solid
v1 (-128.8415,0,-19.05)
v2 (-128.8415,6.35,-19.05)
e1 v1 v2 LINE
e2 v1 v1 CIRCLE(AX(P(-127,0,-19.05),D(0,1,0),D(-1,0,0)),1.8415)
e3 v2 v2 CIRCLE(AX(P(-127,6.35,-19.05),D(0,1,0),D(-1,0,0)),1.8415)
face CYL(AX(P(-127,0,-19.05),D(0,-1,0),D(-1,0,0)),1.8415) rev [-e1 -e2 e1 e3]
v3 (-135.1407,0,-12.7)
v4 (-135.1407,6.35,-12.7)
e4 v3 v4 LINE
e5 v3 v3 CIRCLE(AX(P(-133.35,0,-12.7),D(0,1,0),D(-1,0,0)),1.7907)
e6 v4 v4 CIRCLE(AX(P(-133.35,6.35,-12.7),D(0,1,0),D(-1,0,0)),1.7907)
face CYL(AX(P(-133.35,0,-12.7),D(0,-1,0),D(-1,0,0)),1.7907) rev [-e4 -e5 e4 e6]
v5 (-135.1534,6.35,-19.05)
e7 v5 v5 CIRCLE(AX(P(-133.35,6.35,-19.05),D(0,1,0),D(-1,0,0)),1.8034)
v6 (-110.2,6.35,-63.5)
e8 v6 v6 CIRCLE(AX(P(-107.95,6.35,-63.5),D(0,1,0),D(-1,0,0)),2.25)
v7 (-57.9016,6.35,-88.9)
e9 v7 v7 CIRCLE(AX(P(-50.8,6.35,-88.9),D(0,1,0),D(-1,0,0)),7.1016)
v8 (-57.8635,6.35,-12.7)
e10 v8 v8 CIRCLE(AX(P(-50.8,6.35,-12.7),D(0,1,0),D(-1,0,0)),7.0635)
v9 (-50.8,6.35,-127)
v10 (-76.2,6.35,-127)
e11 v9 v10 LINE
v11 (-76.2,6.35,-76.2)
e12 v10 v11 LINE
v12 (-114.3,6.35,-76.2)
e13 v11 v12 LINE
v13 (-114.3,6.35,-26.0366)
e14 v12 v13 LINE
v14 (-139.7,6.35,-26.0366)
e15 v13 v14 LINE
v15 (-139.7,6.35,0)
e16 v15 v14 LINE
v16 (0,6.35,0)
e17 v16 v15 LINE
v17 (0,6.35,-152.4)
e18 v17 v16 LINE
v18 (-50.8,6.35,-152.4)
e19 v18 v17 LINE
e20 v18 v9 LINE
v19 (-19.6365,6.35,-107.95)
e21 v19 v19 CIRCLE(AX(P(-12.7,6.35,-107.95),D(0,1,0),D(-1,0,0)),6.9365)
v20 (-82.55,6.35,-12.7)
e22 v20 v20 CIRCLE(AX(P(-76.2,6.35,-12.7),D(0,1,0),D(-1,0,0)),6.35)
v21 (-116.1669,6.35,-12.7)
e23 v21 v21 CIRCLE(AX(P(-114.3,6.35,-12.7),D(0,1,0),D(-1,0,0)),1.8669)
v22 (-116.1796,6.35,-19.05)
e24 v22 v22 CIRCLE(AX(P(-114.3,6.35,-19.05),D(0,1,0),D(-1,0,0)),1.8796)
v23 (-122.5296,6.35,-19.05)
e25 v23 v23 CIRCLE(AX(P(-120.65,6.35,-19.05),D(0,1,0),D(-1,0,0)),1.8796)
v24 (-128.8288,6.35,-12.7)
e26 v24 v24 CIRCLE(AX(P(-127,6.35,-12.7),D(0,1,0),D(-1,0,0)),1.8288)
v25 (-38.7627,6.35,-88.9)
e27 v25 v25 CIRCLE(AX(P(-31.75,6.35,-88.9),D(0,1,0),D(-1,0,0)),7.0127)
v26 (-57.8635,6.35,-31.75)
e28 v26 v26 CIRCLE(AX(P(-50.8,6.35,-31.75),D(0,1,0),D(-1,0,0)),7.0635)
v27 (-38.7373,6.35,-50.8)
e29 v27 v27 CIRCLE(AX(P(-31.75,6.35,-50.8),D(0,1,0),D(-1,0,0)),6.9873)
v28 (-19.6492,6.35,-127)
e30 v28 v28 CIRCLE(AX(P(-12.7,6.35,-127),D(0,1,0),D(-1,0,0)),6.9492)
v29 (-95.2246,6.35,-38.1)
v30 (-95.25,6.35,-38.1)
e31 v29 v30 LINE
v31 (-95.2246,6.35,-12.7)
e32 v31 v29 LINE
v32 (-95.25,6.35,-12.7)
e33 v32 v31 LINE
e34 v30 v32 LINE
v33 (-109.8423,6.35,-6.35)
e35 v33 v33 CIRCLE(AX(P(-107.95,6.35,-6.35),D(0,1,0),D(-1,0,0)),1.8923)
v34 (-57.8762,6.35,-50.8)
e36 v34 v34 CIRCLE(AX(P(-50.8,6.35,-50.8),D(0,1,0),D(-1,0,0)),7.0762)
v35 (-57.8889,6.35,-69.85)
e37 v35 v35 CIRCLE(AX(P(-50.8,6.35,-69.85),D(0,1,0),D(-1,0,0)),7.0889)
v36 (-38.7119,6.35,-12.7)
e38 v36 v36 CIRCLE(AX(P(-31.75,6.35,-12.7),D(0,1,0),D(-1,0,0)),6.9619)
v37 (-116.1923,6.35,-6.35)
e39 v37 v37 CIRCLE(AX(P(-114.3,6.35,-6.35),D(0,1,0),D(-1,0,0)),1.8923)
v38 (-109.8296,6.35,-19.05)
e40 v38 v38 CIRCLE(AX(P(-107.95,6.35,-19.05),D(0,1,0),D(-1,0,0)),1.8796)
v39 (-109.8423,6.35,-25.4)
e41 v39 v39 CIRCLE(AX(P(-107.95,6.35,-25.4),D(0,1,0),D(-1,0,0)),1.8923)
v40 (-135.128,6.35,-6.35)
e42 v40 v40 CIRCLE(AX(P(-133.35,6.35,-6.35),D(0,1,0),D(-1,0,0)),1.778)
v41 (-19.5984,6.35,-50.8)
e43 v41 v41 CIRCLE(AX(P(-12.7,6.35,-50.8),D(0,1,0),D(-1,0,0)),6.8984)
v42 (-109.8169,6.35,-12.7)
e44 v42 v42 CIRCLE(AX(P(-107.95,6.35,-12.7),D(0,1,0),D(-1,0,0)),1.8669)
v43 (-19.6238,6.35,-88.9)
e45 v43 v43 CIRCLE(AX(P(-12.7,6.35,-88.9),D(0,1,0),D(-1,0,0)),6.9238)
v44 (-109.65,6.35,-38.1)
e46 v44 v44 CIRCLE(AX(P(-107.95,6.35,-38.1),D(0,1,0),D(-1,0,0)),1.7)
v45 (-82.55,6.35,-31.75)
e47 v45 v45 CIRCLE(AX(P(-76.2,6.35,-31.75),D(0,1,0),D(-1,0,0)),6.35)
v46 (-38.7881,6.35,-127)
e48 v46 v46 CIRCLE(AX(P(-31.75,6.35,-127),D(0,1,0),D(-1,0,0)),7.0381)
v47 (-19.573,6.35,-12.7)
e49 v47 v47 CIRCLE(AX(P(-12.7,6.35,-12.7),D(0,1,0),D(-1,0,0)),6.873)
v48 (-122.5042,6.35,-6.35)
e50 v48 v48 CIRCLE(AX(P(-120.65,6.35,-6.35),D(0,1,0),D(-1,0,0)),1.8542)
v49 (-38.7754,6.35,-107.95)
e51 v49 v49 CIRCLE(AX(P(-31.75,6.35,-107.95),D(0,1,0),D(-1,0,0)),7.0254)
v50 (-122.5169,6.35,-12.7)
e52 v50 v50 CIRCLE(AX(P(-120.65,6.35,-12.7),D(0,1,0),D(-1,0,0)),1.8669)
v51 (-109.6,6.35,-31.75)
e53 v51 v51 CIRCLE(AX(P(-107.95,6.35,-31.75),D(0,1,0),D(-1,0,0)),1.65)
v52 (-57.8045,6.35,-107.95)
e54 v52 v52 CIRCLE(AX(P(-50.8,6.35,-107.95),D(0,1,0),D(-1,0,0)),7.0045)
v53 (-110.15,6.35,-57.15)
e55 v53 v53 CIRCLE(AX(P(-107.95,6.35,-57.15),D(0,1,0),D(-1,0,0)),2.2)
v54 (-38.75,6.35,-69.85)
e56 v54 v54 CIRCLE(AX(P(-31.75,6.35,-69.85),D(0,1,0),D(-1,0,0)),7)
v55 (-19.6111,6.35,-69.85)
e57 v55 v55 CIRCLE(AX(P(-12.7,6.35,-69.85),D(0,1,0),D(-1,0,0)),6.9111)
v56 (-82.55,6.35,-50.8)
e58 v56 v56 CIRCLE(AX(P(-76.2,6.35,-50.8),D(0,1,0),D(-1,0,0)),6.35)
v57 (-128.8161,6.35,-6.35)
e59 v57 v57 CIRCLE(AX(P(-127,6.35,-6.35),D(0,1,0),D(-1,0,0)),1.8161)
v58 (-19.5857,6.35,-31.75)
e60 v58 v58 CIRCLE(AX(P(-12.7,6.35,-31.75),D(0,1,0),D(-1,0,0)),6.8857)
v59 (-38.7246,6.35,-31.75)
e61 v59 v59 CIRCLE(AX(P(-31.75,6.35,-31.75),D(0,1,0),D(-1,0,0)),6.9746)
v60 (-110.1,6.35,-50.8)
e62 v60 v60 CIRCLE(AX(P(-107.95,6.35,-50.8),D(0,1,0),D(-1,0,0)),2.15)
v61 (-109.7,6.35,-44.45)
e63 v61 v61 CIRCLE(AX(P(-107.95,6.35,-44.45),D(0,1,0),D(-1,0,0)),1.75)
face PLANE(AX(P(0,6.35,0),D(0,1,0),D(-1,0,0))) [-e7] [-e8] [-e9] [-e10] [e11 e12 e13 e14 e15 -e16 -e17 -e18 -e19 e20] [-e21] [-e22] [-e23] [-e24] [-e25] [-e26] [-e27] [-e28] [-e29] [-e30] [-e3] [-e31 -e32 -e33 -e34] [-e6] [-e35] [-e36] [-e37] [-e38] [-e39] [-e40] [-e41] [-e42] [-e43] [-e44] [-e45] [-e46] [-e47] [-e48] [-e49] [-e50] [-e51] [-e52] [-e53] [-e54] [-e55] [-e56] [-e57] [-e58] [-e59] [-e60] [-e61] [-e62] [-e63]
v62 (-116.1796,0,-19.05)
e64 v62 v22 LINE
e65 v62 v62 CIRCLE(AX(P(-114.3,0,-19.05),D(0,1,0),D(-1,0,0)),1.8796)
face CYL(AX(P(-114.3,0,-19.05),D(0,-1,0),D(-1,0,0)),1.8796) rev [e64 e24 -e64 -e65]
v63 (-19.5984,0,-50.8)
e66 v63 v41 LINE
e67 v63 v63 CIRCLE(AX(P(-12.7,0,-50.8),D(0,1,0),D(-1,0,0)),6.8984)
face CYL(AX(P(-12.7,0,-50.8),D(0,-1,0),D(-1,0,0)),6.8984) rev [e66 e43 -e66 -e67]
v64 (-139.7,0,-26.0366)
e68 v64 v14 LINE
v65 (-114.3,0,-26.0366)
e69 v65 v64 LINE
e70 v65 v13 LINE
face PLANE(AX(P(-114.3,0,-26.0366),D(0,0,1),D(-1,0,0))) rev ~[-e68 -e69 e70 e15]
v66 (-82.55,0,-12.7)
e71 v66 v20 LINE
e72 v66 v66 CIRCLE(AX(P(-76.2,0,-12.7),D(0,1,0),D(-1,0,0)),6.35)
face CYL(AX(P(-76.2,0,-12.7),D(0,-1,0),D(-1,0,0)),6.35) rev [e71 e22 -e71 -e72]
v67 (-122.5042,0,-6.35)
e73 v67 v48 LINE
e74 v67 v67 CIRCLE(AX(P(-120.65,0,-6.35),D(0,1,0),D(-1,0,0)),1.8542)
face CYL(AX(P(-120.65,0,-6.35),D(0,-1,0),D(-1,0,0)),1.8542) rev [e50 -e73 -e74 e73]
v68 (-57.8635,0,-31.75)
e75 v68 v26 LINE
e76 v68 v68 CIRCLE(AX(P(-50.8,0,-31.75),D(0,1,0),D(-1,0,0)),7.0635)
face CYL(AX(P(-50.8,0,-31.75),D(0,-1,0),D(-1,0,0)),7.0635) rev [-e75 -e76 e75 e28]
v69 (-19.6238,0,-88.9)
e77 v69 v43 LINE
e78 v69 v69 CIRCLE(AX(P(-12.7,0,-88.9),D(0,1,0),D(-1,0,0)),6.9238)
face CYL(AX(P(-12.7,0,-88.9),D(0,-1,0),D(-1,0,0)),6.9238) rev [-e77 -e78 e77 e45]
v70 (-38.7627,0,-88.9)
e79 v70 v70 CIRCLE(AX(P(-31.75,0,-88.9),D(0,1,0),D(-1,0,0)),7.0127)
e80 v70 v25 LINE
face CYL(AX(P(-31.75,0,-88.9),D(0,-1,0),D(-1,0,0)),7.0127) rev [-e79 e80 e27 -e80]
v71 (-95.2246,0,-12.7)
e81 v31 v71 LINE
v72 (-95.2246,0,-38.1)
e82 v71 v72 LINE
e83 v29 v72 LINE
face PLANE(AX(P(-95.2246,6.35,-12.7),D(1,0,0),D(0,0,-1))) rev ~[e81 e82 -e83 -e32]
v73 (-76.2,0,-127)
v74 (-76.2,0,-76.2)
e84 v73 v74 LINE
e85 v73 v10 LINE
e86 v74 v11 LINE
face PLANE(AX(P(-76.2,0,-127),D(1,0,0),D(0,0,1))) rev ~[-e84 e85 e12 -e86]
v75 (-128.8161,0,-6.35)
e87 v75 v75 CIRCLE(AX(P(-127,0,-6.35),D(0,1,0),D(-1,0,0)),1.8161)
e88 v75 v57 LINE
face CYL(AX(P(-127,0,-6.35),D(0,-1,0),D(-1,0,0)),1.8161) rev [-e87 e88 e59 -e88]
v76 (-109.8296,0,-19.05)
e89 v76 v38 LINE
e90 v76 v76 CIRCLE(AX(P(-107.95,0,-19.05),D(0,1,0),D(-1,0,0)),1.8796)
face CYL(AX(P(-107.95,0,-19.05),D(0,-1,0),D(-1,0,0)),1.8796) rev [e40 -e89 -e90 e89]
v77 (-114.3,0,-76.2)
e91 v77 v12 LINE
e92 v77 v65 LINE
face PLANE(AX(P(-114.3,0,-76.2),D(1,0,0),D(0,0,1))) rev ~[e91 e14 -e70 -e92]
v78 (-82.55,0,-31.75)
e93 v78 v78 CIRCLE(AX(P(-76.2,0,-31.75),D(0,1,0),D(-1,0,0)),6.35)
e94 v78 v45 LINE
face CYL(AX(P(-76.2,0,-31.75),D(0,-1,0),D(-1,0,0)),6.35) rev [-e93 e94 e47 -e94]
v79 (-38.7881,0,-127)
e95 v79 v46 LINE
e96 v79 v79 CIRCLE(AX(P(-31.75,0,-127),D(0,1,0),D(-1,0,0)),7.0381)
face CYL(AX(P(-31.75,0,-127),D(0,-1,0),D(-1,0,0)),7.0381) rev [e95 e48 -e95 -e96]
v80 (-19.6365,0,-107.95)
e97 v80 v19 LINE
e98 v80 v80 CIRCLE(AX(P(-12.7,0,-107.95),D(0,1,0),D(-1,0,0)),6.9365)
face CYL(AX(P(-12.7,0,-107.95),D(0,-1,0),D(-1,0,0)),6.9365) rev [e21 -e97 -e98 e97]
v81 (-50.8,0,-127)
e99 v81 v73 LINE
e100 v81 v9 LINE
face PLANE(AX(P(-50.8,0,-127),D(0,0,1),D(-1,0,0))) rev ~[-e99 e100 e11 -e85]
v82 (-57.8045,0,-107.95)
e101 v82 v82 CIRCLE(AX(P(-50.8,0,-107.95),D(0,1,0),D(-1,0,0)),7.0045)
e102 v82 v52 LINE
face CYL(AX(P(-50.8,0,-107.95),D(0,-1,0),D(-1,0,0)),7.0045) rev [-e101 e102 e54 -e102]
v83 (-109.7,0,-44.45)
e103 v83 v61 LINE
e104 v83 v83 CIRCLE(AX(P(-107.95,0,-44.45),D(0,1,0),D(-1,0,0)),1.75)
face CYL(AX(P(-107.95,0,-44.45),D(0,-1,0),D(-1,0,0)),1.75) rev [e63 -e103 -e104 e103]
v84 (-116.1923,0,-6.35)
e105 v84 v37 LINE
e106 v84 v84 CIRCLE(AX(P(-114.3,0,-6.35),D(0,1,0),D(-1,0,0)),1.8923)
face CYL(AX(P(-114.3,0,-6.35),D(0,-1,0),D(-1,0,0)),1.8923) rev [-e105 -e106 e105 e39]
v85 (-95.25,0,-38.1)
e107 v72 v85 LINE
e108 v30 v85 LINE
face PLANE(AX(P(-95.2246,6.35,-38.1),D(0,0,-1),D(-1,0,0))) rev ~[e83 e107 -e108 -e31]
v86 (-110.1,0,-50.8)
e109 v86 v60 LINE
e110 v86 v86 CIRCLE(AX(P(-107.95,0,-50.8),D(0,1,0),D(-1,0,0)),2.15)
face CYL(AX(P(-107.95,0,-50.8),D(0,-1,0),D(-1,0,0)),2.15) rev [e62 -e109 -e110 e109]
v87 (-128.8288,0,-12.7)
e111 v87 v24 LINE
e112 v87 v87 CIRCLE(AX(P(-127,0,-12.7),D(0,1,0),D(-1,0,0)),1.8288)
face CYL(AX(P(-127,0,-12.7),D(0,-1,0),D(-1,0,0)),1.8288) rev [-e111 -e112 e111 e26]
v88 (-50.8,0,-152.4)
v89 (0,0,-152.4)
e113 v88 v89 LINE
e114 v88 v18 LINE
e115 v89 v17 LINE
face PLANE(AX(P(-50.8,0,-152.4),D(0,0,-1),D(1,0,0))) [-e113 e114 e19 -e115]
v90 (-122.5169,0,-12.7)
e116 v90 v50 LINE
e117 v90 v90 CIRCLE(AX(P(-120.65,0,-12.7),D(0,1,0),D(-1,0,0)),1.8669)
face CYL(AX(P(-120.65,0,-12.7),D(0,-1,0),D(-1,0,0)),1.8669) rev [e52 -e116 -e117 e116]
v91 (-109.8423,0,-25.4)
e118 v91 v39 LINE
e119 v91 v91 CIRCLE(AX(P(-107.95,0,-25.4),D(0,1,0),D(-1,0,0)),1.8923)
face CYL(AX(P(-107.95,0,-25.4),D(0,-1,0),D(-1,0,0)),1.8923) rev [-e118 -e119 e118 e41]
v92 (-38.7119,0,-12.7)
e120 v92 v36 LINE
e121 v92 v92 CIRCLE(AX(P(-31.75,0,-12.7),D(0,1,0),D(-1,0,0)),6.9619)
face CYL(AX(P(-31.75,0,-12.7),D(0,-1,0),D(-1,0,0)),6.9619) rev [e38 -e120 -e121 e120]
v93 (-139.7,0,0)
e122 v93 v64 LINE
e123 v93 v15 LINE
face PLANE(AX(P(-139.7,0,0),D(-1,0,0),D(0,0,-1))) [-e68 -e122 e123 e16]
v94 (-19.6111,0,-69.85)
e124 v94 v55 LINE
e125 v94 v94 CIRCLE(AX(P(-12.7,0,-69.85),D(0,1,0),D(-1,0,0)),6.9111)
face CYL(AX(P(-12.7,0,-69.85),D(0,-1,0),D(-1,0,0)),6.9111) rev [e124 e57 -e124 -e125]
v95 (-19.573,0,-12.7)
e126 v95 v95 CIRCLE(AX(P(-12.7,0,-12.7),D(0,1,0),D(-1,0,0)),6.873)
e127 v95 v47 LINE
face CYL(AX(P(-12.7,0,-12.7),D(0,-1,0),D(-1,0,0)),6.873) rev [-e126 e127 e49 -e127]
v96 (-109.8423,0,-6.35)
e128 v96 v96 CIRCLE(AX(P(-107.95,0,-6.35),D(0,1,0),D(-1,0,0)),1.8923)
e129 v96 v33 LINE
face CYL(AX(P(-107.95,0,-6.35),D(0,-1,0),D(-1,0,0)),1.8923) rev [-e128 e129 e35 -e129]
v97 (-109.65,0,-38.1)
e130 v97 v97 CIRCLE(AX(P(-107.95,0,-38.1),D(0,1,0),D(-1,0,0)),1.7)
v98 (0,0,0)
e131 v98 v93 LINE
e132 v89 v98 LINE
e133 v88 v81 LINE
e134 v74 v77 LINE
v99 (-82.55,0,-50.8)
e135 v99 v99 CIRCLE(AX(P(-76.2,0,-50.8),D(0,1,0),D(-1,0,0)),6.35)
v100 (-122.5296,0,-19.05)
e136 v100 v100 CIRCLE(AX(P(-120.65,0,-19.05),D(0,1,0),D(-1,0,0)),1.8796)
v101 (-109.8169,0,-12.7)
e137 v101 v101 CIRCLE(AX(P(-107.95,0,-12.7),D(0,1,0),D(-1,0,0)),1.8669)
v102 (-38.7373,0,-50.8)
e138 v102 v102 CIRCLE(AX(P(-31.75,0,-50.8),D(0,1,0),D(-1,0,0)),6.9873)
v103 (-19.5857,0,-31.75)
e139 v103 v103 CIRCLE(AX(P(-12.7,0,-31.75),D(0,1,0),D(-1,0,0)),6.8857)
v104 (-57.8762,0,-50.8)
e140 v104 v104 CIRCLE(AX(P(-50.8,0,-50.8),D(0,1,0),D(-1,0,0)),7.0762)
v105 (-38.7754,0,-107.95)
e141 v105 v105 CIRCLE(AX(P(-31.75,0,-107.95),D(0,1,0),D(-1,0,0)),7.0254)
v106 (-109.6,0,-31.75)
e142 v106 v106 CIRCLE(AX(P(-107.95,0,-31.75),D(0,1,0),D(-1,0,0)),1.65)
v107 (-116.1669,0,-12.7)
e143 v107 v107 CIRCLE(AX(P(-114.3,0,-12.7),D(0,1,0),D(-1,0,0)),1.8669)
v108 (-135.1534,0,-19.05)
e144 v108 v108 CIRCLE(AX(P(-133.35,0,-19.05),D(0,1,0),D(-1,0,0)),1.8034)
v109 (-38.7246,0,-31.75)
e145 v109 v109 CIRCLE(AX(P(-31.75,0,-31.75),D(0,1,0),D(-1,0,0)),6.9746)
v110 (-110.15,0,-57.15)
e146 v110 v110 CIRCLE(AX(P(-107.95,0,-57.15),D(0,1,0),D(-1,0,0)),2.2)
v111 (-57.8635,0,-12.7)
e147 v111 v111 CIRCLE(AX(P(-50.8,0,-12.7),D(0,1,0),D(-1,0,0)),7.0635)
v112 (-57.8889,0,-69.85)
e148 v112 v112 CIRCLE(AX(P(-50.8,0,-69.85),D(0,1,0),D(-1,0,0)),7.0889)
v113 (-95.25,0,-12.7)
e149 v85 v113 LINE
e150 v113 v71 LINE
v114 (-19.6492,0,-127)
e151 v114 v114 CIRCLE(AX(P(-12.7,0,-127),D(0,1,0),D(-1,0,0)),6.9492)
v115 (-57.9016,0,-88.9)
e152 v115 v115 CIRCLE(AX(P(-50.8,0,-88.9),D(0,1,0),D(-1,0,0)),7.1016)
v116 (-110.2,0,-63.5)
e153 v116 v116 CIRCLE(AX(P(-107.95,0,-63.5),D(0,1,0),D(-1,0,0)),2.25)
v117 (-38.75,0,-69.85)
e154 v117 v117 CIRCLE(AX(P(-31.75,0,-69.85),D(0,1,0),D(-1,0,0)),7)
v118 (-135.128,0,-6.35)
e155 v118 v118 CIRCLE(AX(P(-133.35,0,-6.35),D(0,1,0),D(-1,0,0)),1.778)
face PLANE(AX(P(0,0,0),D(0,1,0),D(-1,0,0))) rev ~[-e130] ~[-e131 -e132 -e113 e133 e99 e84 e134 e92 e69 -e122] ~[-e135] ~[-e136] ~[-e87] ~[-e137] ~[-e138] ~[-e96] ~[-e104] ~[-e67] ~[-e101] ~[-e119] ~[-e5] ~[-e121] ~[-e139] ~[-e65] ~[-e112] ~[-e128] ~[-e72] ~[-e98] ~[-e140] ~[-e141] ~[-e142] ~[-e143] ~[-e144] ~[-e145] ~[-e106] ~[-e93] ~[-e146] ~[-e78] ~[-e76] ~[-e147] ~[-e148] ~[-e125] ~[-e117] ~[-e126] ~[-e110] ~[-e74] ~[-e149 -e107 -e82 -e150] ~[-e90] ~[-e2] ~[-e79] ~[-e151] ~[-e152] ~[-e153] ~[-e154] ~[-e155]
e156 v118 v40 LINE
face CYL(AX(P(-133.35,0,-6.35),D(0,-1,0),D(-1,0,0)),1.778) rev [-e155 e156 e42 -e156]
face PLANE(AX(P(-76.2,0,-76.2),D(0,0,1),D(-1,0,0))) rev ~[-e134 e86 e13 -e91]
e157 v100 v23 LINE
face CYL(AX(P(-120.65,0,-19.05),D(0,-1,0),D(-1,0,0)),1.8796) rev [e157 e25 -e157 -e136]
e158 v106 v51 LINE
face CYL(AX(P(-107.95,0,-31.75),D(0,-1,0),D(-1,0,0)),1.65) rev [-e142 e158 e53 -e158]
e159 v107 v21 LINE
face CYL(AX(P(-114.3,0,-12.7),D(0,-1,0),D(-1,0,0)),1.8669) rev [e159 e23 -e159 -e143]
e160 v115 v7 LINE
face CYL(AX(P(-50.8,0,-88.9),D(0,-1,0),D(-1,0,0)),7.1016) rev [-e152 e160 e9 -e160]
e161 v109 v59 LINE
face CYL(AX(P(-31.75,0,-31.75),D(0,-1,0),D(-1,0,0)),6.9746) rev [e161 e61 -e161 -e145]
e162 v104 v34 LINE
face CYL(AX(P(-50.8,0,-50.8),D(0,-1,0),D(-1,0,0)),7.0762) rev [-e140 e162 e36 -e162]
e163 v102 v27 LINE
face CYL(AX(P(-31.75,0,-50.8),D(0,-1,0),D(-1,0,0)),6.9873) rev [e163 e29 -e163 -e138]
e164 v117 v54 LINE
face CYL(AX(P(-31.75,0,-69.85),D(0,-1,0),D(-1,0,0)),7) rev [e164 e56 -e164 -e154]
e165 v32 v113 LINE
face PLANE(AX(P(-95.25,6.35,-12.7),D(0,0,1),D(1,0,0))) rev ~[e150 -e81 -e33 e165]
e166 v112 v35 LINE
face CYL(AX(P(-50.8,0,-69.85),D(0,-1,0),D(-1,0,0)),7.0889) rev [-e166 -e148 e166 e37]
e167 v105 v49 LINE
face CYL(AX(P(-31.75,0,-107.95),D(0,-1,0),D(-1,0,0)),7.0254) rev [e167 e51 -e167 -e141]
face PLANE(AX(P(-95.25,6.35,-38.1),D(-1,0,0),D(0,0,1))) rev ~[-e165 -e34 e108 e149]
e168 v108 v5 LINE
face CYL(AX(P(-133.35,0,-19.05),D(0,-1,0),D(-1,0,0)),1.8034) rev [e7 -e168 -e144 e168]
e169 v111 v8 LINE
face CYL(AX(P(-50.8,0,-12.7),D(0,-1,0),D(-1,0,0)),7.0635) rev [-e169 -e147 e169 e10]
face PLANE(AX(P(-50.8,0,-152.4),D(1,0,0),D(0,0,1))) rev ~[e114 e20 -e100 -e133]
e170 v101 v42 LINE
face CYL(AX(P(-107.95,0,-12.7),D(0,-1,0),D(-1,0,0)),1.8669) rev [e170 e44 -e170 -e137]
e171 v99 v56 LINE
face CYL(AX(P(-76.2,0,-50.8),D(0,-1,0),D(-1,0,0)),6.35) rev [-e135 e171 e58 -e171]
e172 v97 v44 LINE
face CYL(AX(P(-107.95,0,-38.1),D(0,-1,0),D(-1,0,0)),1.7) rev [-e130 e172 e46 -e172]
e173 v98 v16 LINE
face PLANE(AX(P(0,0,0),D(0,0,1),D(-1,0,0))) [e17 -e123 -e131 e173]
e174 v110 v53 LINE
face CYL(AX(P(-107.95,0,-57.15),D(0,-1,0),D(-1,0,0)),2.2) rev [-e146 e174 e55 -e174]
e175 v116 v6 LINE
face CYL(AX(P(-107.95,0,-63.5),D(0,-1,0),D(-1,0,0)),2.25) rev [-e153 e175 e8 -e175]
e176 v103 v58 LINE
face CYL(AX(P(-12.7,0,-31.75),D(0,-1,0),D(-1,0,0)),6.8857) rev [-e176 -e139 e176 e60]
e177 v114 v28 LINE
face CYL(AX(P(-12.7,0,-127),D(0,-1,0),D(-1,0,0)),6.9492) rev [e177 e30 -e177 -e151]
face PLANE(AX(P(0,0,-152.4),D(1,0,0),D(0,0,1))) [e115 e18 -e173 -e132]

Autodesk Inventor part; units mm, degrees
ref_plane "YZ Plane" through (0, 0, 0) normal (1, 0, 0) x (0, 1, 0)
ref_plane "XZ Plane" through (0, 0, 0) normal (0, 1, 0) x (-1, 0, 0)
ref_plane "XY Plane" through (0, 0, 0) normal (0, 0, 1) x (1, 0, 0)
sketch "Sketch1" plane through (0, 0, 0) normal (0, 1, 0) x (-1, 0, 0)
  line L0 (0, 0) -> (139.7, 0)
  line L1 (139.7, 0) -> (139.7, -152.4)
  line L2 (139.7, -152.4) -> (0, -152.4)
  line L3 (0, -152.4) -> (0, 0)
  line L4 (139.7, -152.4) -> (127, -152.4)
  line L5 (114.3, -76.2) -> (114.3, -26.0366)
  line L6 (114.3, -26.0366) -> (139.7, -26.0366)
  line L7 (139.7, -26.0366) -> (139.7, -152.4)
  line L8 (127, -152.4) -> (76.2, -152.4)
  line L9 (76.2, -127) -> (76.2, -76.2)
  line L10 (76.2, -76.2) -> (114.3, -76.2)
  line L11 (76.2, -152.4) -> (50.8, -152.4)
  line L12 (50.8, -152.4) -> (50.8, -127)
  line L13 (50.8, -127) -> (76.2, -127)
  circle A0 centre (12.7, -12.7) radius 6.35 construction
  circle A1 centre (12.7, -31.75) radius 6.35 construction
  circle A2 centre (12.7, -50.8) radius 6.35 construction
  circle A3 centre (12.7, -69.85) radius 6.35 construction
  circle A4 centre (12.7, -88.9) radius 6.35 construction
  circle A5 centre (12.7, -107.95) radius 6.35 construction
  circle A6 centre (12.7, -127) radius 6.35 construction
  circle A7 centre (31.75, -12.7) radius 6.35 construction
  circle A8 centre (31.75, -31.75) radius 6.35 construction
  circle A9 centre (31.75, -50.8) radius 6.35 construction
  circle A10 centre (31.75, -69.85) radius 6.35 construction
  circle A11 centre (31.75, -88.9) radius 6.35 construction
  circle A12 centre (31.75, -107.95) radius 6.35 construction
  circle A13 centre (31.75, -127) radius 6.35 construction
  circle A14 centre (12.7, -12.7) radius 6.873
  circle A15 centre (12.7, -31.75) radius 6.8857
  circle A16 centre (12.7, -50.8) radius 6.8984
  circle A17 centre (12.7, -69.85) radius 6.9111
  circle A18 centre (12.7, -88.9) radius 6.9238
  circle A19 centre (12.7, -107.95) radius 6.9365
  circle A20 centre (12.7, -127) radius 6.9492
  circle A21 centre (31.75, -12.7) radius 6.9619
  circle A22 centre (31.75, -31.75) radius 6.9746
  circle A23 centre (31.75, -50.8) radius 6.9873
  circle A24 centre (31.75, -69.85) radius 7
  circle A25 centre (31.75, -88.9) radius 7.0127
  circle A26 centre (31.75, -107.95) radius 7.0254
  circle A27 centre (31.75, -127) radius 7.0381
  circle A28 centre (50.8, -12.7) radius 7.0635
  circle A29 centre (50.8, -31.75) radius 7.0635
  circle A30 centre (50.8, -50.8) radius 7.0762
  circle A31 centre (50.8, -69.85) radius 7.0889
  circle A32 centre (50.8, -88.9) radius 7.1016
  circle A33 centre (50.8, -107.95) radius 7.0045
  circle A34 centre (76.2, -12.7) radius 6.35
  circle A35 centre (76.2, -31.75) radius 6.35
  circle A36 centre (76.2, -50.8) radius 6.35
  line L14 (6.4177, -6.5588) -> (6.4177, -14.6901) construction
  line L15 (8.0052, -4.9713) -> (8.0052, -13.1026) construction
  circle A37 centre (133.35, -6.35) radius 1.778
  circle A38 centre (133.35, -12.7) radius 1.7907
  circle A39 centre (133.35, -19.05) radius 1.8034
  circle A40 centre (127, -6.35) radius 1.8161
  circle A41 centre (127, -12.7) radius 1.8288
  circle A42 centre (127, -19.05) radius 1.8415
  circle A43 centre (120.65, -6.35) radius 1.8542
  circle A44 centre (120.65, -12.7) radius 1.8669
  circle A45 centre (120.65, -19.05) radius 1.8796
  circle A46 centre (114.3, -6.35) radius 1.8923
  circle A47 centre (114.3, -12.7) radius 1.8669
  circle A48 centre (114.3, -19.05) radius 1.8796
  circle A49 centre (107.95, -6.35) radius 1.8923
  circle A50 centre (107.95, -12.7) radius 1.8669
  circle A51 centre (107.95, -19.05) radius 1.8796
  circle A52 centre (107.95, -25.4) radius 1.8923
  circle A53 centre (107.95, -31.75) radius 1.65
  circle A54 centre (107.95, -38.1) radius 1.7
  circle A55 centre (107.95, -44.45) radius 1.75
  circle A56 centre (107.95, -50.8) radius 2.15
  circle A57 centre (107.95, -57.15) radius 2.2
  circle A58 centre (107.95, -63.5) radius 2.25
  dimension "d0" = 139.7
  dimension "d1" = 152.4
  dimension "d3" = 127
  dimension "d5" = 76.2
  dimension "d7" = 25.4
  dimension "d8" = 12.7
  dimension "d9" = 12.7
  dimension "d10" = 12.7
  dimension "d13" = 19.05
  dimension "d16" = 19.05
  dimension "d19" = 13.746
  dimension "d20" = 13.7714
  dimension "d21" = 13.7968
  dimension "d22" = 13.8222
  dimension "d23" = 13.8476
  dimension "d24" = 13.873
  dimension "d25" = 13.8984
  dimension "d26" = 13.9238
  dimension "d27" = 13.9492
  dimension "d28" = 13.9746
  dimension "d29" = 14
  dimension "d30" = 14.0254
  dimension "d31" = 14.0508
  dimension "d32" = 14.0762
  dimension "d33" = 14.127
  dimension "d34" = 14.127
  dimension "d35" = 14.1524
  dimension "d36" = 14.1778
  dimension "d37" = 14.2032
  dimension "d38" = 14.009
  dimension "d39" = 12.7
  dimension "d40" = 12.7
  dimension "d41" = 12.7
  dimension "d44" = 50.8
  dimension "d45" = 25.4
  dimension "d46" = 25.4
  dimension "d47" = 3.556
  dimension "d48" = 6.35
  dimension "d49" = 6.35
  dimension "d50" = 3.5814
  dimension "d51" = 6.35
  dimension "d52" = 3.6068
  dimension "d53" = 6.35
  dimension "d54" = 3.6322
  dimension "d55" = 6.35
  dimension "d56" = 3.6576
  dimension "d57" = 3.683
  dimension "d58" = 3.7084
  dimension "d59" = 6.35
  dimension "d60" = 3.7338
  dimension "d61" = 3.7592
  dimension "d62" = 3.7846
  dimension "d63" = 6.35
  dimension "d64" = 3.7338
  dimension "d65" = 3.7592
  dimension "d66" = 3.7846
  dimension "d67" = 6.35
  dimension "d68" = 3.7338
  dimension "d69" = 3.7592
  dimension "d70" = 3.7846
  dimension "d71" = 6.35
  dimension "d72" = 3.3
  dimension "d73" = 3.4
  dimension "d74" = 3.5
extrude "Extrusion1" add sketch "Sketch1" along normal blind 6.35 contours L0 L1 L6 L5 L10 L9 L13 L12 L2 L3
sketch "Sketch2" plane through (0, 6.35, 0) normal (0, 1, 0) x (1, 0, 0)
  line L0 (-4.5975, 9.3875) -> (-4.5975, 17.5188) construction
  line L1 (-4.5975, 17.5188) -> (-1.4235, 17.5188) construction
  line L2 (-1.4235, 17.5188) -> (-1.4235, 9.3875) construction
  line L3 (-1.4235, 9.3875) -> (-4.5975, 9.3875) construction
  point P0 (0, 0)
sketch "Sketch3" plane through (0, 6.35, 0) normal (0, 1, 0) x (1, 0, 0)
  point P0 (0, 0)
sketch "Sketch4" plane through (0, 6.35, 0) normal (0, 1, 0) x (1, 0, 0)
  line L0 (-95.25, 12.7) -> (-95.2246, 12.7)
  line L1 (-95.2246, 12.7) -> (-95.2246, 38.1)
  line L2 (-95.2246, 38.1) -> (-95.25, 38.1)
  line L3 (-95.25, 38.1) -> (-95.25, 12.7)
  line L4 (-139.7, 26.0366) -> (-139.7, 0) projected
  line L5 (-139.7, 0) -> (0, 0) projected
  dimension "d84" = 0.0254
  dimension "d85" = 25.4
  dimension "d86" = 44.45
  dimension "d87" = 12.7
extrude "Extrusion2" cut sketch "Sketch4" against normal through all
properties part number "Test laser cutter tolerances"
